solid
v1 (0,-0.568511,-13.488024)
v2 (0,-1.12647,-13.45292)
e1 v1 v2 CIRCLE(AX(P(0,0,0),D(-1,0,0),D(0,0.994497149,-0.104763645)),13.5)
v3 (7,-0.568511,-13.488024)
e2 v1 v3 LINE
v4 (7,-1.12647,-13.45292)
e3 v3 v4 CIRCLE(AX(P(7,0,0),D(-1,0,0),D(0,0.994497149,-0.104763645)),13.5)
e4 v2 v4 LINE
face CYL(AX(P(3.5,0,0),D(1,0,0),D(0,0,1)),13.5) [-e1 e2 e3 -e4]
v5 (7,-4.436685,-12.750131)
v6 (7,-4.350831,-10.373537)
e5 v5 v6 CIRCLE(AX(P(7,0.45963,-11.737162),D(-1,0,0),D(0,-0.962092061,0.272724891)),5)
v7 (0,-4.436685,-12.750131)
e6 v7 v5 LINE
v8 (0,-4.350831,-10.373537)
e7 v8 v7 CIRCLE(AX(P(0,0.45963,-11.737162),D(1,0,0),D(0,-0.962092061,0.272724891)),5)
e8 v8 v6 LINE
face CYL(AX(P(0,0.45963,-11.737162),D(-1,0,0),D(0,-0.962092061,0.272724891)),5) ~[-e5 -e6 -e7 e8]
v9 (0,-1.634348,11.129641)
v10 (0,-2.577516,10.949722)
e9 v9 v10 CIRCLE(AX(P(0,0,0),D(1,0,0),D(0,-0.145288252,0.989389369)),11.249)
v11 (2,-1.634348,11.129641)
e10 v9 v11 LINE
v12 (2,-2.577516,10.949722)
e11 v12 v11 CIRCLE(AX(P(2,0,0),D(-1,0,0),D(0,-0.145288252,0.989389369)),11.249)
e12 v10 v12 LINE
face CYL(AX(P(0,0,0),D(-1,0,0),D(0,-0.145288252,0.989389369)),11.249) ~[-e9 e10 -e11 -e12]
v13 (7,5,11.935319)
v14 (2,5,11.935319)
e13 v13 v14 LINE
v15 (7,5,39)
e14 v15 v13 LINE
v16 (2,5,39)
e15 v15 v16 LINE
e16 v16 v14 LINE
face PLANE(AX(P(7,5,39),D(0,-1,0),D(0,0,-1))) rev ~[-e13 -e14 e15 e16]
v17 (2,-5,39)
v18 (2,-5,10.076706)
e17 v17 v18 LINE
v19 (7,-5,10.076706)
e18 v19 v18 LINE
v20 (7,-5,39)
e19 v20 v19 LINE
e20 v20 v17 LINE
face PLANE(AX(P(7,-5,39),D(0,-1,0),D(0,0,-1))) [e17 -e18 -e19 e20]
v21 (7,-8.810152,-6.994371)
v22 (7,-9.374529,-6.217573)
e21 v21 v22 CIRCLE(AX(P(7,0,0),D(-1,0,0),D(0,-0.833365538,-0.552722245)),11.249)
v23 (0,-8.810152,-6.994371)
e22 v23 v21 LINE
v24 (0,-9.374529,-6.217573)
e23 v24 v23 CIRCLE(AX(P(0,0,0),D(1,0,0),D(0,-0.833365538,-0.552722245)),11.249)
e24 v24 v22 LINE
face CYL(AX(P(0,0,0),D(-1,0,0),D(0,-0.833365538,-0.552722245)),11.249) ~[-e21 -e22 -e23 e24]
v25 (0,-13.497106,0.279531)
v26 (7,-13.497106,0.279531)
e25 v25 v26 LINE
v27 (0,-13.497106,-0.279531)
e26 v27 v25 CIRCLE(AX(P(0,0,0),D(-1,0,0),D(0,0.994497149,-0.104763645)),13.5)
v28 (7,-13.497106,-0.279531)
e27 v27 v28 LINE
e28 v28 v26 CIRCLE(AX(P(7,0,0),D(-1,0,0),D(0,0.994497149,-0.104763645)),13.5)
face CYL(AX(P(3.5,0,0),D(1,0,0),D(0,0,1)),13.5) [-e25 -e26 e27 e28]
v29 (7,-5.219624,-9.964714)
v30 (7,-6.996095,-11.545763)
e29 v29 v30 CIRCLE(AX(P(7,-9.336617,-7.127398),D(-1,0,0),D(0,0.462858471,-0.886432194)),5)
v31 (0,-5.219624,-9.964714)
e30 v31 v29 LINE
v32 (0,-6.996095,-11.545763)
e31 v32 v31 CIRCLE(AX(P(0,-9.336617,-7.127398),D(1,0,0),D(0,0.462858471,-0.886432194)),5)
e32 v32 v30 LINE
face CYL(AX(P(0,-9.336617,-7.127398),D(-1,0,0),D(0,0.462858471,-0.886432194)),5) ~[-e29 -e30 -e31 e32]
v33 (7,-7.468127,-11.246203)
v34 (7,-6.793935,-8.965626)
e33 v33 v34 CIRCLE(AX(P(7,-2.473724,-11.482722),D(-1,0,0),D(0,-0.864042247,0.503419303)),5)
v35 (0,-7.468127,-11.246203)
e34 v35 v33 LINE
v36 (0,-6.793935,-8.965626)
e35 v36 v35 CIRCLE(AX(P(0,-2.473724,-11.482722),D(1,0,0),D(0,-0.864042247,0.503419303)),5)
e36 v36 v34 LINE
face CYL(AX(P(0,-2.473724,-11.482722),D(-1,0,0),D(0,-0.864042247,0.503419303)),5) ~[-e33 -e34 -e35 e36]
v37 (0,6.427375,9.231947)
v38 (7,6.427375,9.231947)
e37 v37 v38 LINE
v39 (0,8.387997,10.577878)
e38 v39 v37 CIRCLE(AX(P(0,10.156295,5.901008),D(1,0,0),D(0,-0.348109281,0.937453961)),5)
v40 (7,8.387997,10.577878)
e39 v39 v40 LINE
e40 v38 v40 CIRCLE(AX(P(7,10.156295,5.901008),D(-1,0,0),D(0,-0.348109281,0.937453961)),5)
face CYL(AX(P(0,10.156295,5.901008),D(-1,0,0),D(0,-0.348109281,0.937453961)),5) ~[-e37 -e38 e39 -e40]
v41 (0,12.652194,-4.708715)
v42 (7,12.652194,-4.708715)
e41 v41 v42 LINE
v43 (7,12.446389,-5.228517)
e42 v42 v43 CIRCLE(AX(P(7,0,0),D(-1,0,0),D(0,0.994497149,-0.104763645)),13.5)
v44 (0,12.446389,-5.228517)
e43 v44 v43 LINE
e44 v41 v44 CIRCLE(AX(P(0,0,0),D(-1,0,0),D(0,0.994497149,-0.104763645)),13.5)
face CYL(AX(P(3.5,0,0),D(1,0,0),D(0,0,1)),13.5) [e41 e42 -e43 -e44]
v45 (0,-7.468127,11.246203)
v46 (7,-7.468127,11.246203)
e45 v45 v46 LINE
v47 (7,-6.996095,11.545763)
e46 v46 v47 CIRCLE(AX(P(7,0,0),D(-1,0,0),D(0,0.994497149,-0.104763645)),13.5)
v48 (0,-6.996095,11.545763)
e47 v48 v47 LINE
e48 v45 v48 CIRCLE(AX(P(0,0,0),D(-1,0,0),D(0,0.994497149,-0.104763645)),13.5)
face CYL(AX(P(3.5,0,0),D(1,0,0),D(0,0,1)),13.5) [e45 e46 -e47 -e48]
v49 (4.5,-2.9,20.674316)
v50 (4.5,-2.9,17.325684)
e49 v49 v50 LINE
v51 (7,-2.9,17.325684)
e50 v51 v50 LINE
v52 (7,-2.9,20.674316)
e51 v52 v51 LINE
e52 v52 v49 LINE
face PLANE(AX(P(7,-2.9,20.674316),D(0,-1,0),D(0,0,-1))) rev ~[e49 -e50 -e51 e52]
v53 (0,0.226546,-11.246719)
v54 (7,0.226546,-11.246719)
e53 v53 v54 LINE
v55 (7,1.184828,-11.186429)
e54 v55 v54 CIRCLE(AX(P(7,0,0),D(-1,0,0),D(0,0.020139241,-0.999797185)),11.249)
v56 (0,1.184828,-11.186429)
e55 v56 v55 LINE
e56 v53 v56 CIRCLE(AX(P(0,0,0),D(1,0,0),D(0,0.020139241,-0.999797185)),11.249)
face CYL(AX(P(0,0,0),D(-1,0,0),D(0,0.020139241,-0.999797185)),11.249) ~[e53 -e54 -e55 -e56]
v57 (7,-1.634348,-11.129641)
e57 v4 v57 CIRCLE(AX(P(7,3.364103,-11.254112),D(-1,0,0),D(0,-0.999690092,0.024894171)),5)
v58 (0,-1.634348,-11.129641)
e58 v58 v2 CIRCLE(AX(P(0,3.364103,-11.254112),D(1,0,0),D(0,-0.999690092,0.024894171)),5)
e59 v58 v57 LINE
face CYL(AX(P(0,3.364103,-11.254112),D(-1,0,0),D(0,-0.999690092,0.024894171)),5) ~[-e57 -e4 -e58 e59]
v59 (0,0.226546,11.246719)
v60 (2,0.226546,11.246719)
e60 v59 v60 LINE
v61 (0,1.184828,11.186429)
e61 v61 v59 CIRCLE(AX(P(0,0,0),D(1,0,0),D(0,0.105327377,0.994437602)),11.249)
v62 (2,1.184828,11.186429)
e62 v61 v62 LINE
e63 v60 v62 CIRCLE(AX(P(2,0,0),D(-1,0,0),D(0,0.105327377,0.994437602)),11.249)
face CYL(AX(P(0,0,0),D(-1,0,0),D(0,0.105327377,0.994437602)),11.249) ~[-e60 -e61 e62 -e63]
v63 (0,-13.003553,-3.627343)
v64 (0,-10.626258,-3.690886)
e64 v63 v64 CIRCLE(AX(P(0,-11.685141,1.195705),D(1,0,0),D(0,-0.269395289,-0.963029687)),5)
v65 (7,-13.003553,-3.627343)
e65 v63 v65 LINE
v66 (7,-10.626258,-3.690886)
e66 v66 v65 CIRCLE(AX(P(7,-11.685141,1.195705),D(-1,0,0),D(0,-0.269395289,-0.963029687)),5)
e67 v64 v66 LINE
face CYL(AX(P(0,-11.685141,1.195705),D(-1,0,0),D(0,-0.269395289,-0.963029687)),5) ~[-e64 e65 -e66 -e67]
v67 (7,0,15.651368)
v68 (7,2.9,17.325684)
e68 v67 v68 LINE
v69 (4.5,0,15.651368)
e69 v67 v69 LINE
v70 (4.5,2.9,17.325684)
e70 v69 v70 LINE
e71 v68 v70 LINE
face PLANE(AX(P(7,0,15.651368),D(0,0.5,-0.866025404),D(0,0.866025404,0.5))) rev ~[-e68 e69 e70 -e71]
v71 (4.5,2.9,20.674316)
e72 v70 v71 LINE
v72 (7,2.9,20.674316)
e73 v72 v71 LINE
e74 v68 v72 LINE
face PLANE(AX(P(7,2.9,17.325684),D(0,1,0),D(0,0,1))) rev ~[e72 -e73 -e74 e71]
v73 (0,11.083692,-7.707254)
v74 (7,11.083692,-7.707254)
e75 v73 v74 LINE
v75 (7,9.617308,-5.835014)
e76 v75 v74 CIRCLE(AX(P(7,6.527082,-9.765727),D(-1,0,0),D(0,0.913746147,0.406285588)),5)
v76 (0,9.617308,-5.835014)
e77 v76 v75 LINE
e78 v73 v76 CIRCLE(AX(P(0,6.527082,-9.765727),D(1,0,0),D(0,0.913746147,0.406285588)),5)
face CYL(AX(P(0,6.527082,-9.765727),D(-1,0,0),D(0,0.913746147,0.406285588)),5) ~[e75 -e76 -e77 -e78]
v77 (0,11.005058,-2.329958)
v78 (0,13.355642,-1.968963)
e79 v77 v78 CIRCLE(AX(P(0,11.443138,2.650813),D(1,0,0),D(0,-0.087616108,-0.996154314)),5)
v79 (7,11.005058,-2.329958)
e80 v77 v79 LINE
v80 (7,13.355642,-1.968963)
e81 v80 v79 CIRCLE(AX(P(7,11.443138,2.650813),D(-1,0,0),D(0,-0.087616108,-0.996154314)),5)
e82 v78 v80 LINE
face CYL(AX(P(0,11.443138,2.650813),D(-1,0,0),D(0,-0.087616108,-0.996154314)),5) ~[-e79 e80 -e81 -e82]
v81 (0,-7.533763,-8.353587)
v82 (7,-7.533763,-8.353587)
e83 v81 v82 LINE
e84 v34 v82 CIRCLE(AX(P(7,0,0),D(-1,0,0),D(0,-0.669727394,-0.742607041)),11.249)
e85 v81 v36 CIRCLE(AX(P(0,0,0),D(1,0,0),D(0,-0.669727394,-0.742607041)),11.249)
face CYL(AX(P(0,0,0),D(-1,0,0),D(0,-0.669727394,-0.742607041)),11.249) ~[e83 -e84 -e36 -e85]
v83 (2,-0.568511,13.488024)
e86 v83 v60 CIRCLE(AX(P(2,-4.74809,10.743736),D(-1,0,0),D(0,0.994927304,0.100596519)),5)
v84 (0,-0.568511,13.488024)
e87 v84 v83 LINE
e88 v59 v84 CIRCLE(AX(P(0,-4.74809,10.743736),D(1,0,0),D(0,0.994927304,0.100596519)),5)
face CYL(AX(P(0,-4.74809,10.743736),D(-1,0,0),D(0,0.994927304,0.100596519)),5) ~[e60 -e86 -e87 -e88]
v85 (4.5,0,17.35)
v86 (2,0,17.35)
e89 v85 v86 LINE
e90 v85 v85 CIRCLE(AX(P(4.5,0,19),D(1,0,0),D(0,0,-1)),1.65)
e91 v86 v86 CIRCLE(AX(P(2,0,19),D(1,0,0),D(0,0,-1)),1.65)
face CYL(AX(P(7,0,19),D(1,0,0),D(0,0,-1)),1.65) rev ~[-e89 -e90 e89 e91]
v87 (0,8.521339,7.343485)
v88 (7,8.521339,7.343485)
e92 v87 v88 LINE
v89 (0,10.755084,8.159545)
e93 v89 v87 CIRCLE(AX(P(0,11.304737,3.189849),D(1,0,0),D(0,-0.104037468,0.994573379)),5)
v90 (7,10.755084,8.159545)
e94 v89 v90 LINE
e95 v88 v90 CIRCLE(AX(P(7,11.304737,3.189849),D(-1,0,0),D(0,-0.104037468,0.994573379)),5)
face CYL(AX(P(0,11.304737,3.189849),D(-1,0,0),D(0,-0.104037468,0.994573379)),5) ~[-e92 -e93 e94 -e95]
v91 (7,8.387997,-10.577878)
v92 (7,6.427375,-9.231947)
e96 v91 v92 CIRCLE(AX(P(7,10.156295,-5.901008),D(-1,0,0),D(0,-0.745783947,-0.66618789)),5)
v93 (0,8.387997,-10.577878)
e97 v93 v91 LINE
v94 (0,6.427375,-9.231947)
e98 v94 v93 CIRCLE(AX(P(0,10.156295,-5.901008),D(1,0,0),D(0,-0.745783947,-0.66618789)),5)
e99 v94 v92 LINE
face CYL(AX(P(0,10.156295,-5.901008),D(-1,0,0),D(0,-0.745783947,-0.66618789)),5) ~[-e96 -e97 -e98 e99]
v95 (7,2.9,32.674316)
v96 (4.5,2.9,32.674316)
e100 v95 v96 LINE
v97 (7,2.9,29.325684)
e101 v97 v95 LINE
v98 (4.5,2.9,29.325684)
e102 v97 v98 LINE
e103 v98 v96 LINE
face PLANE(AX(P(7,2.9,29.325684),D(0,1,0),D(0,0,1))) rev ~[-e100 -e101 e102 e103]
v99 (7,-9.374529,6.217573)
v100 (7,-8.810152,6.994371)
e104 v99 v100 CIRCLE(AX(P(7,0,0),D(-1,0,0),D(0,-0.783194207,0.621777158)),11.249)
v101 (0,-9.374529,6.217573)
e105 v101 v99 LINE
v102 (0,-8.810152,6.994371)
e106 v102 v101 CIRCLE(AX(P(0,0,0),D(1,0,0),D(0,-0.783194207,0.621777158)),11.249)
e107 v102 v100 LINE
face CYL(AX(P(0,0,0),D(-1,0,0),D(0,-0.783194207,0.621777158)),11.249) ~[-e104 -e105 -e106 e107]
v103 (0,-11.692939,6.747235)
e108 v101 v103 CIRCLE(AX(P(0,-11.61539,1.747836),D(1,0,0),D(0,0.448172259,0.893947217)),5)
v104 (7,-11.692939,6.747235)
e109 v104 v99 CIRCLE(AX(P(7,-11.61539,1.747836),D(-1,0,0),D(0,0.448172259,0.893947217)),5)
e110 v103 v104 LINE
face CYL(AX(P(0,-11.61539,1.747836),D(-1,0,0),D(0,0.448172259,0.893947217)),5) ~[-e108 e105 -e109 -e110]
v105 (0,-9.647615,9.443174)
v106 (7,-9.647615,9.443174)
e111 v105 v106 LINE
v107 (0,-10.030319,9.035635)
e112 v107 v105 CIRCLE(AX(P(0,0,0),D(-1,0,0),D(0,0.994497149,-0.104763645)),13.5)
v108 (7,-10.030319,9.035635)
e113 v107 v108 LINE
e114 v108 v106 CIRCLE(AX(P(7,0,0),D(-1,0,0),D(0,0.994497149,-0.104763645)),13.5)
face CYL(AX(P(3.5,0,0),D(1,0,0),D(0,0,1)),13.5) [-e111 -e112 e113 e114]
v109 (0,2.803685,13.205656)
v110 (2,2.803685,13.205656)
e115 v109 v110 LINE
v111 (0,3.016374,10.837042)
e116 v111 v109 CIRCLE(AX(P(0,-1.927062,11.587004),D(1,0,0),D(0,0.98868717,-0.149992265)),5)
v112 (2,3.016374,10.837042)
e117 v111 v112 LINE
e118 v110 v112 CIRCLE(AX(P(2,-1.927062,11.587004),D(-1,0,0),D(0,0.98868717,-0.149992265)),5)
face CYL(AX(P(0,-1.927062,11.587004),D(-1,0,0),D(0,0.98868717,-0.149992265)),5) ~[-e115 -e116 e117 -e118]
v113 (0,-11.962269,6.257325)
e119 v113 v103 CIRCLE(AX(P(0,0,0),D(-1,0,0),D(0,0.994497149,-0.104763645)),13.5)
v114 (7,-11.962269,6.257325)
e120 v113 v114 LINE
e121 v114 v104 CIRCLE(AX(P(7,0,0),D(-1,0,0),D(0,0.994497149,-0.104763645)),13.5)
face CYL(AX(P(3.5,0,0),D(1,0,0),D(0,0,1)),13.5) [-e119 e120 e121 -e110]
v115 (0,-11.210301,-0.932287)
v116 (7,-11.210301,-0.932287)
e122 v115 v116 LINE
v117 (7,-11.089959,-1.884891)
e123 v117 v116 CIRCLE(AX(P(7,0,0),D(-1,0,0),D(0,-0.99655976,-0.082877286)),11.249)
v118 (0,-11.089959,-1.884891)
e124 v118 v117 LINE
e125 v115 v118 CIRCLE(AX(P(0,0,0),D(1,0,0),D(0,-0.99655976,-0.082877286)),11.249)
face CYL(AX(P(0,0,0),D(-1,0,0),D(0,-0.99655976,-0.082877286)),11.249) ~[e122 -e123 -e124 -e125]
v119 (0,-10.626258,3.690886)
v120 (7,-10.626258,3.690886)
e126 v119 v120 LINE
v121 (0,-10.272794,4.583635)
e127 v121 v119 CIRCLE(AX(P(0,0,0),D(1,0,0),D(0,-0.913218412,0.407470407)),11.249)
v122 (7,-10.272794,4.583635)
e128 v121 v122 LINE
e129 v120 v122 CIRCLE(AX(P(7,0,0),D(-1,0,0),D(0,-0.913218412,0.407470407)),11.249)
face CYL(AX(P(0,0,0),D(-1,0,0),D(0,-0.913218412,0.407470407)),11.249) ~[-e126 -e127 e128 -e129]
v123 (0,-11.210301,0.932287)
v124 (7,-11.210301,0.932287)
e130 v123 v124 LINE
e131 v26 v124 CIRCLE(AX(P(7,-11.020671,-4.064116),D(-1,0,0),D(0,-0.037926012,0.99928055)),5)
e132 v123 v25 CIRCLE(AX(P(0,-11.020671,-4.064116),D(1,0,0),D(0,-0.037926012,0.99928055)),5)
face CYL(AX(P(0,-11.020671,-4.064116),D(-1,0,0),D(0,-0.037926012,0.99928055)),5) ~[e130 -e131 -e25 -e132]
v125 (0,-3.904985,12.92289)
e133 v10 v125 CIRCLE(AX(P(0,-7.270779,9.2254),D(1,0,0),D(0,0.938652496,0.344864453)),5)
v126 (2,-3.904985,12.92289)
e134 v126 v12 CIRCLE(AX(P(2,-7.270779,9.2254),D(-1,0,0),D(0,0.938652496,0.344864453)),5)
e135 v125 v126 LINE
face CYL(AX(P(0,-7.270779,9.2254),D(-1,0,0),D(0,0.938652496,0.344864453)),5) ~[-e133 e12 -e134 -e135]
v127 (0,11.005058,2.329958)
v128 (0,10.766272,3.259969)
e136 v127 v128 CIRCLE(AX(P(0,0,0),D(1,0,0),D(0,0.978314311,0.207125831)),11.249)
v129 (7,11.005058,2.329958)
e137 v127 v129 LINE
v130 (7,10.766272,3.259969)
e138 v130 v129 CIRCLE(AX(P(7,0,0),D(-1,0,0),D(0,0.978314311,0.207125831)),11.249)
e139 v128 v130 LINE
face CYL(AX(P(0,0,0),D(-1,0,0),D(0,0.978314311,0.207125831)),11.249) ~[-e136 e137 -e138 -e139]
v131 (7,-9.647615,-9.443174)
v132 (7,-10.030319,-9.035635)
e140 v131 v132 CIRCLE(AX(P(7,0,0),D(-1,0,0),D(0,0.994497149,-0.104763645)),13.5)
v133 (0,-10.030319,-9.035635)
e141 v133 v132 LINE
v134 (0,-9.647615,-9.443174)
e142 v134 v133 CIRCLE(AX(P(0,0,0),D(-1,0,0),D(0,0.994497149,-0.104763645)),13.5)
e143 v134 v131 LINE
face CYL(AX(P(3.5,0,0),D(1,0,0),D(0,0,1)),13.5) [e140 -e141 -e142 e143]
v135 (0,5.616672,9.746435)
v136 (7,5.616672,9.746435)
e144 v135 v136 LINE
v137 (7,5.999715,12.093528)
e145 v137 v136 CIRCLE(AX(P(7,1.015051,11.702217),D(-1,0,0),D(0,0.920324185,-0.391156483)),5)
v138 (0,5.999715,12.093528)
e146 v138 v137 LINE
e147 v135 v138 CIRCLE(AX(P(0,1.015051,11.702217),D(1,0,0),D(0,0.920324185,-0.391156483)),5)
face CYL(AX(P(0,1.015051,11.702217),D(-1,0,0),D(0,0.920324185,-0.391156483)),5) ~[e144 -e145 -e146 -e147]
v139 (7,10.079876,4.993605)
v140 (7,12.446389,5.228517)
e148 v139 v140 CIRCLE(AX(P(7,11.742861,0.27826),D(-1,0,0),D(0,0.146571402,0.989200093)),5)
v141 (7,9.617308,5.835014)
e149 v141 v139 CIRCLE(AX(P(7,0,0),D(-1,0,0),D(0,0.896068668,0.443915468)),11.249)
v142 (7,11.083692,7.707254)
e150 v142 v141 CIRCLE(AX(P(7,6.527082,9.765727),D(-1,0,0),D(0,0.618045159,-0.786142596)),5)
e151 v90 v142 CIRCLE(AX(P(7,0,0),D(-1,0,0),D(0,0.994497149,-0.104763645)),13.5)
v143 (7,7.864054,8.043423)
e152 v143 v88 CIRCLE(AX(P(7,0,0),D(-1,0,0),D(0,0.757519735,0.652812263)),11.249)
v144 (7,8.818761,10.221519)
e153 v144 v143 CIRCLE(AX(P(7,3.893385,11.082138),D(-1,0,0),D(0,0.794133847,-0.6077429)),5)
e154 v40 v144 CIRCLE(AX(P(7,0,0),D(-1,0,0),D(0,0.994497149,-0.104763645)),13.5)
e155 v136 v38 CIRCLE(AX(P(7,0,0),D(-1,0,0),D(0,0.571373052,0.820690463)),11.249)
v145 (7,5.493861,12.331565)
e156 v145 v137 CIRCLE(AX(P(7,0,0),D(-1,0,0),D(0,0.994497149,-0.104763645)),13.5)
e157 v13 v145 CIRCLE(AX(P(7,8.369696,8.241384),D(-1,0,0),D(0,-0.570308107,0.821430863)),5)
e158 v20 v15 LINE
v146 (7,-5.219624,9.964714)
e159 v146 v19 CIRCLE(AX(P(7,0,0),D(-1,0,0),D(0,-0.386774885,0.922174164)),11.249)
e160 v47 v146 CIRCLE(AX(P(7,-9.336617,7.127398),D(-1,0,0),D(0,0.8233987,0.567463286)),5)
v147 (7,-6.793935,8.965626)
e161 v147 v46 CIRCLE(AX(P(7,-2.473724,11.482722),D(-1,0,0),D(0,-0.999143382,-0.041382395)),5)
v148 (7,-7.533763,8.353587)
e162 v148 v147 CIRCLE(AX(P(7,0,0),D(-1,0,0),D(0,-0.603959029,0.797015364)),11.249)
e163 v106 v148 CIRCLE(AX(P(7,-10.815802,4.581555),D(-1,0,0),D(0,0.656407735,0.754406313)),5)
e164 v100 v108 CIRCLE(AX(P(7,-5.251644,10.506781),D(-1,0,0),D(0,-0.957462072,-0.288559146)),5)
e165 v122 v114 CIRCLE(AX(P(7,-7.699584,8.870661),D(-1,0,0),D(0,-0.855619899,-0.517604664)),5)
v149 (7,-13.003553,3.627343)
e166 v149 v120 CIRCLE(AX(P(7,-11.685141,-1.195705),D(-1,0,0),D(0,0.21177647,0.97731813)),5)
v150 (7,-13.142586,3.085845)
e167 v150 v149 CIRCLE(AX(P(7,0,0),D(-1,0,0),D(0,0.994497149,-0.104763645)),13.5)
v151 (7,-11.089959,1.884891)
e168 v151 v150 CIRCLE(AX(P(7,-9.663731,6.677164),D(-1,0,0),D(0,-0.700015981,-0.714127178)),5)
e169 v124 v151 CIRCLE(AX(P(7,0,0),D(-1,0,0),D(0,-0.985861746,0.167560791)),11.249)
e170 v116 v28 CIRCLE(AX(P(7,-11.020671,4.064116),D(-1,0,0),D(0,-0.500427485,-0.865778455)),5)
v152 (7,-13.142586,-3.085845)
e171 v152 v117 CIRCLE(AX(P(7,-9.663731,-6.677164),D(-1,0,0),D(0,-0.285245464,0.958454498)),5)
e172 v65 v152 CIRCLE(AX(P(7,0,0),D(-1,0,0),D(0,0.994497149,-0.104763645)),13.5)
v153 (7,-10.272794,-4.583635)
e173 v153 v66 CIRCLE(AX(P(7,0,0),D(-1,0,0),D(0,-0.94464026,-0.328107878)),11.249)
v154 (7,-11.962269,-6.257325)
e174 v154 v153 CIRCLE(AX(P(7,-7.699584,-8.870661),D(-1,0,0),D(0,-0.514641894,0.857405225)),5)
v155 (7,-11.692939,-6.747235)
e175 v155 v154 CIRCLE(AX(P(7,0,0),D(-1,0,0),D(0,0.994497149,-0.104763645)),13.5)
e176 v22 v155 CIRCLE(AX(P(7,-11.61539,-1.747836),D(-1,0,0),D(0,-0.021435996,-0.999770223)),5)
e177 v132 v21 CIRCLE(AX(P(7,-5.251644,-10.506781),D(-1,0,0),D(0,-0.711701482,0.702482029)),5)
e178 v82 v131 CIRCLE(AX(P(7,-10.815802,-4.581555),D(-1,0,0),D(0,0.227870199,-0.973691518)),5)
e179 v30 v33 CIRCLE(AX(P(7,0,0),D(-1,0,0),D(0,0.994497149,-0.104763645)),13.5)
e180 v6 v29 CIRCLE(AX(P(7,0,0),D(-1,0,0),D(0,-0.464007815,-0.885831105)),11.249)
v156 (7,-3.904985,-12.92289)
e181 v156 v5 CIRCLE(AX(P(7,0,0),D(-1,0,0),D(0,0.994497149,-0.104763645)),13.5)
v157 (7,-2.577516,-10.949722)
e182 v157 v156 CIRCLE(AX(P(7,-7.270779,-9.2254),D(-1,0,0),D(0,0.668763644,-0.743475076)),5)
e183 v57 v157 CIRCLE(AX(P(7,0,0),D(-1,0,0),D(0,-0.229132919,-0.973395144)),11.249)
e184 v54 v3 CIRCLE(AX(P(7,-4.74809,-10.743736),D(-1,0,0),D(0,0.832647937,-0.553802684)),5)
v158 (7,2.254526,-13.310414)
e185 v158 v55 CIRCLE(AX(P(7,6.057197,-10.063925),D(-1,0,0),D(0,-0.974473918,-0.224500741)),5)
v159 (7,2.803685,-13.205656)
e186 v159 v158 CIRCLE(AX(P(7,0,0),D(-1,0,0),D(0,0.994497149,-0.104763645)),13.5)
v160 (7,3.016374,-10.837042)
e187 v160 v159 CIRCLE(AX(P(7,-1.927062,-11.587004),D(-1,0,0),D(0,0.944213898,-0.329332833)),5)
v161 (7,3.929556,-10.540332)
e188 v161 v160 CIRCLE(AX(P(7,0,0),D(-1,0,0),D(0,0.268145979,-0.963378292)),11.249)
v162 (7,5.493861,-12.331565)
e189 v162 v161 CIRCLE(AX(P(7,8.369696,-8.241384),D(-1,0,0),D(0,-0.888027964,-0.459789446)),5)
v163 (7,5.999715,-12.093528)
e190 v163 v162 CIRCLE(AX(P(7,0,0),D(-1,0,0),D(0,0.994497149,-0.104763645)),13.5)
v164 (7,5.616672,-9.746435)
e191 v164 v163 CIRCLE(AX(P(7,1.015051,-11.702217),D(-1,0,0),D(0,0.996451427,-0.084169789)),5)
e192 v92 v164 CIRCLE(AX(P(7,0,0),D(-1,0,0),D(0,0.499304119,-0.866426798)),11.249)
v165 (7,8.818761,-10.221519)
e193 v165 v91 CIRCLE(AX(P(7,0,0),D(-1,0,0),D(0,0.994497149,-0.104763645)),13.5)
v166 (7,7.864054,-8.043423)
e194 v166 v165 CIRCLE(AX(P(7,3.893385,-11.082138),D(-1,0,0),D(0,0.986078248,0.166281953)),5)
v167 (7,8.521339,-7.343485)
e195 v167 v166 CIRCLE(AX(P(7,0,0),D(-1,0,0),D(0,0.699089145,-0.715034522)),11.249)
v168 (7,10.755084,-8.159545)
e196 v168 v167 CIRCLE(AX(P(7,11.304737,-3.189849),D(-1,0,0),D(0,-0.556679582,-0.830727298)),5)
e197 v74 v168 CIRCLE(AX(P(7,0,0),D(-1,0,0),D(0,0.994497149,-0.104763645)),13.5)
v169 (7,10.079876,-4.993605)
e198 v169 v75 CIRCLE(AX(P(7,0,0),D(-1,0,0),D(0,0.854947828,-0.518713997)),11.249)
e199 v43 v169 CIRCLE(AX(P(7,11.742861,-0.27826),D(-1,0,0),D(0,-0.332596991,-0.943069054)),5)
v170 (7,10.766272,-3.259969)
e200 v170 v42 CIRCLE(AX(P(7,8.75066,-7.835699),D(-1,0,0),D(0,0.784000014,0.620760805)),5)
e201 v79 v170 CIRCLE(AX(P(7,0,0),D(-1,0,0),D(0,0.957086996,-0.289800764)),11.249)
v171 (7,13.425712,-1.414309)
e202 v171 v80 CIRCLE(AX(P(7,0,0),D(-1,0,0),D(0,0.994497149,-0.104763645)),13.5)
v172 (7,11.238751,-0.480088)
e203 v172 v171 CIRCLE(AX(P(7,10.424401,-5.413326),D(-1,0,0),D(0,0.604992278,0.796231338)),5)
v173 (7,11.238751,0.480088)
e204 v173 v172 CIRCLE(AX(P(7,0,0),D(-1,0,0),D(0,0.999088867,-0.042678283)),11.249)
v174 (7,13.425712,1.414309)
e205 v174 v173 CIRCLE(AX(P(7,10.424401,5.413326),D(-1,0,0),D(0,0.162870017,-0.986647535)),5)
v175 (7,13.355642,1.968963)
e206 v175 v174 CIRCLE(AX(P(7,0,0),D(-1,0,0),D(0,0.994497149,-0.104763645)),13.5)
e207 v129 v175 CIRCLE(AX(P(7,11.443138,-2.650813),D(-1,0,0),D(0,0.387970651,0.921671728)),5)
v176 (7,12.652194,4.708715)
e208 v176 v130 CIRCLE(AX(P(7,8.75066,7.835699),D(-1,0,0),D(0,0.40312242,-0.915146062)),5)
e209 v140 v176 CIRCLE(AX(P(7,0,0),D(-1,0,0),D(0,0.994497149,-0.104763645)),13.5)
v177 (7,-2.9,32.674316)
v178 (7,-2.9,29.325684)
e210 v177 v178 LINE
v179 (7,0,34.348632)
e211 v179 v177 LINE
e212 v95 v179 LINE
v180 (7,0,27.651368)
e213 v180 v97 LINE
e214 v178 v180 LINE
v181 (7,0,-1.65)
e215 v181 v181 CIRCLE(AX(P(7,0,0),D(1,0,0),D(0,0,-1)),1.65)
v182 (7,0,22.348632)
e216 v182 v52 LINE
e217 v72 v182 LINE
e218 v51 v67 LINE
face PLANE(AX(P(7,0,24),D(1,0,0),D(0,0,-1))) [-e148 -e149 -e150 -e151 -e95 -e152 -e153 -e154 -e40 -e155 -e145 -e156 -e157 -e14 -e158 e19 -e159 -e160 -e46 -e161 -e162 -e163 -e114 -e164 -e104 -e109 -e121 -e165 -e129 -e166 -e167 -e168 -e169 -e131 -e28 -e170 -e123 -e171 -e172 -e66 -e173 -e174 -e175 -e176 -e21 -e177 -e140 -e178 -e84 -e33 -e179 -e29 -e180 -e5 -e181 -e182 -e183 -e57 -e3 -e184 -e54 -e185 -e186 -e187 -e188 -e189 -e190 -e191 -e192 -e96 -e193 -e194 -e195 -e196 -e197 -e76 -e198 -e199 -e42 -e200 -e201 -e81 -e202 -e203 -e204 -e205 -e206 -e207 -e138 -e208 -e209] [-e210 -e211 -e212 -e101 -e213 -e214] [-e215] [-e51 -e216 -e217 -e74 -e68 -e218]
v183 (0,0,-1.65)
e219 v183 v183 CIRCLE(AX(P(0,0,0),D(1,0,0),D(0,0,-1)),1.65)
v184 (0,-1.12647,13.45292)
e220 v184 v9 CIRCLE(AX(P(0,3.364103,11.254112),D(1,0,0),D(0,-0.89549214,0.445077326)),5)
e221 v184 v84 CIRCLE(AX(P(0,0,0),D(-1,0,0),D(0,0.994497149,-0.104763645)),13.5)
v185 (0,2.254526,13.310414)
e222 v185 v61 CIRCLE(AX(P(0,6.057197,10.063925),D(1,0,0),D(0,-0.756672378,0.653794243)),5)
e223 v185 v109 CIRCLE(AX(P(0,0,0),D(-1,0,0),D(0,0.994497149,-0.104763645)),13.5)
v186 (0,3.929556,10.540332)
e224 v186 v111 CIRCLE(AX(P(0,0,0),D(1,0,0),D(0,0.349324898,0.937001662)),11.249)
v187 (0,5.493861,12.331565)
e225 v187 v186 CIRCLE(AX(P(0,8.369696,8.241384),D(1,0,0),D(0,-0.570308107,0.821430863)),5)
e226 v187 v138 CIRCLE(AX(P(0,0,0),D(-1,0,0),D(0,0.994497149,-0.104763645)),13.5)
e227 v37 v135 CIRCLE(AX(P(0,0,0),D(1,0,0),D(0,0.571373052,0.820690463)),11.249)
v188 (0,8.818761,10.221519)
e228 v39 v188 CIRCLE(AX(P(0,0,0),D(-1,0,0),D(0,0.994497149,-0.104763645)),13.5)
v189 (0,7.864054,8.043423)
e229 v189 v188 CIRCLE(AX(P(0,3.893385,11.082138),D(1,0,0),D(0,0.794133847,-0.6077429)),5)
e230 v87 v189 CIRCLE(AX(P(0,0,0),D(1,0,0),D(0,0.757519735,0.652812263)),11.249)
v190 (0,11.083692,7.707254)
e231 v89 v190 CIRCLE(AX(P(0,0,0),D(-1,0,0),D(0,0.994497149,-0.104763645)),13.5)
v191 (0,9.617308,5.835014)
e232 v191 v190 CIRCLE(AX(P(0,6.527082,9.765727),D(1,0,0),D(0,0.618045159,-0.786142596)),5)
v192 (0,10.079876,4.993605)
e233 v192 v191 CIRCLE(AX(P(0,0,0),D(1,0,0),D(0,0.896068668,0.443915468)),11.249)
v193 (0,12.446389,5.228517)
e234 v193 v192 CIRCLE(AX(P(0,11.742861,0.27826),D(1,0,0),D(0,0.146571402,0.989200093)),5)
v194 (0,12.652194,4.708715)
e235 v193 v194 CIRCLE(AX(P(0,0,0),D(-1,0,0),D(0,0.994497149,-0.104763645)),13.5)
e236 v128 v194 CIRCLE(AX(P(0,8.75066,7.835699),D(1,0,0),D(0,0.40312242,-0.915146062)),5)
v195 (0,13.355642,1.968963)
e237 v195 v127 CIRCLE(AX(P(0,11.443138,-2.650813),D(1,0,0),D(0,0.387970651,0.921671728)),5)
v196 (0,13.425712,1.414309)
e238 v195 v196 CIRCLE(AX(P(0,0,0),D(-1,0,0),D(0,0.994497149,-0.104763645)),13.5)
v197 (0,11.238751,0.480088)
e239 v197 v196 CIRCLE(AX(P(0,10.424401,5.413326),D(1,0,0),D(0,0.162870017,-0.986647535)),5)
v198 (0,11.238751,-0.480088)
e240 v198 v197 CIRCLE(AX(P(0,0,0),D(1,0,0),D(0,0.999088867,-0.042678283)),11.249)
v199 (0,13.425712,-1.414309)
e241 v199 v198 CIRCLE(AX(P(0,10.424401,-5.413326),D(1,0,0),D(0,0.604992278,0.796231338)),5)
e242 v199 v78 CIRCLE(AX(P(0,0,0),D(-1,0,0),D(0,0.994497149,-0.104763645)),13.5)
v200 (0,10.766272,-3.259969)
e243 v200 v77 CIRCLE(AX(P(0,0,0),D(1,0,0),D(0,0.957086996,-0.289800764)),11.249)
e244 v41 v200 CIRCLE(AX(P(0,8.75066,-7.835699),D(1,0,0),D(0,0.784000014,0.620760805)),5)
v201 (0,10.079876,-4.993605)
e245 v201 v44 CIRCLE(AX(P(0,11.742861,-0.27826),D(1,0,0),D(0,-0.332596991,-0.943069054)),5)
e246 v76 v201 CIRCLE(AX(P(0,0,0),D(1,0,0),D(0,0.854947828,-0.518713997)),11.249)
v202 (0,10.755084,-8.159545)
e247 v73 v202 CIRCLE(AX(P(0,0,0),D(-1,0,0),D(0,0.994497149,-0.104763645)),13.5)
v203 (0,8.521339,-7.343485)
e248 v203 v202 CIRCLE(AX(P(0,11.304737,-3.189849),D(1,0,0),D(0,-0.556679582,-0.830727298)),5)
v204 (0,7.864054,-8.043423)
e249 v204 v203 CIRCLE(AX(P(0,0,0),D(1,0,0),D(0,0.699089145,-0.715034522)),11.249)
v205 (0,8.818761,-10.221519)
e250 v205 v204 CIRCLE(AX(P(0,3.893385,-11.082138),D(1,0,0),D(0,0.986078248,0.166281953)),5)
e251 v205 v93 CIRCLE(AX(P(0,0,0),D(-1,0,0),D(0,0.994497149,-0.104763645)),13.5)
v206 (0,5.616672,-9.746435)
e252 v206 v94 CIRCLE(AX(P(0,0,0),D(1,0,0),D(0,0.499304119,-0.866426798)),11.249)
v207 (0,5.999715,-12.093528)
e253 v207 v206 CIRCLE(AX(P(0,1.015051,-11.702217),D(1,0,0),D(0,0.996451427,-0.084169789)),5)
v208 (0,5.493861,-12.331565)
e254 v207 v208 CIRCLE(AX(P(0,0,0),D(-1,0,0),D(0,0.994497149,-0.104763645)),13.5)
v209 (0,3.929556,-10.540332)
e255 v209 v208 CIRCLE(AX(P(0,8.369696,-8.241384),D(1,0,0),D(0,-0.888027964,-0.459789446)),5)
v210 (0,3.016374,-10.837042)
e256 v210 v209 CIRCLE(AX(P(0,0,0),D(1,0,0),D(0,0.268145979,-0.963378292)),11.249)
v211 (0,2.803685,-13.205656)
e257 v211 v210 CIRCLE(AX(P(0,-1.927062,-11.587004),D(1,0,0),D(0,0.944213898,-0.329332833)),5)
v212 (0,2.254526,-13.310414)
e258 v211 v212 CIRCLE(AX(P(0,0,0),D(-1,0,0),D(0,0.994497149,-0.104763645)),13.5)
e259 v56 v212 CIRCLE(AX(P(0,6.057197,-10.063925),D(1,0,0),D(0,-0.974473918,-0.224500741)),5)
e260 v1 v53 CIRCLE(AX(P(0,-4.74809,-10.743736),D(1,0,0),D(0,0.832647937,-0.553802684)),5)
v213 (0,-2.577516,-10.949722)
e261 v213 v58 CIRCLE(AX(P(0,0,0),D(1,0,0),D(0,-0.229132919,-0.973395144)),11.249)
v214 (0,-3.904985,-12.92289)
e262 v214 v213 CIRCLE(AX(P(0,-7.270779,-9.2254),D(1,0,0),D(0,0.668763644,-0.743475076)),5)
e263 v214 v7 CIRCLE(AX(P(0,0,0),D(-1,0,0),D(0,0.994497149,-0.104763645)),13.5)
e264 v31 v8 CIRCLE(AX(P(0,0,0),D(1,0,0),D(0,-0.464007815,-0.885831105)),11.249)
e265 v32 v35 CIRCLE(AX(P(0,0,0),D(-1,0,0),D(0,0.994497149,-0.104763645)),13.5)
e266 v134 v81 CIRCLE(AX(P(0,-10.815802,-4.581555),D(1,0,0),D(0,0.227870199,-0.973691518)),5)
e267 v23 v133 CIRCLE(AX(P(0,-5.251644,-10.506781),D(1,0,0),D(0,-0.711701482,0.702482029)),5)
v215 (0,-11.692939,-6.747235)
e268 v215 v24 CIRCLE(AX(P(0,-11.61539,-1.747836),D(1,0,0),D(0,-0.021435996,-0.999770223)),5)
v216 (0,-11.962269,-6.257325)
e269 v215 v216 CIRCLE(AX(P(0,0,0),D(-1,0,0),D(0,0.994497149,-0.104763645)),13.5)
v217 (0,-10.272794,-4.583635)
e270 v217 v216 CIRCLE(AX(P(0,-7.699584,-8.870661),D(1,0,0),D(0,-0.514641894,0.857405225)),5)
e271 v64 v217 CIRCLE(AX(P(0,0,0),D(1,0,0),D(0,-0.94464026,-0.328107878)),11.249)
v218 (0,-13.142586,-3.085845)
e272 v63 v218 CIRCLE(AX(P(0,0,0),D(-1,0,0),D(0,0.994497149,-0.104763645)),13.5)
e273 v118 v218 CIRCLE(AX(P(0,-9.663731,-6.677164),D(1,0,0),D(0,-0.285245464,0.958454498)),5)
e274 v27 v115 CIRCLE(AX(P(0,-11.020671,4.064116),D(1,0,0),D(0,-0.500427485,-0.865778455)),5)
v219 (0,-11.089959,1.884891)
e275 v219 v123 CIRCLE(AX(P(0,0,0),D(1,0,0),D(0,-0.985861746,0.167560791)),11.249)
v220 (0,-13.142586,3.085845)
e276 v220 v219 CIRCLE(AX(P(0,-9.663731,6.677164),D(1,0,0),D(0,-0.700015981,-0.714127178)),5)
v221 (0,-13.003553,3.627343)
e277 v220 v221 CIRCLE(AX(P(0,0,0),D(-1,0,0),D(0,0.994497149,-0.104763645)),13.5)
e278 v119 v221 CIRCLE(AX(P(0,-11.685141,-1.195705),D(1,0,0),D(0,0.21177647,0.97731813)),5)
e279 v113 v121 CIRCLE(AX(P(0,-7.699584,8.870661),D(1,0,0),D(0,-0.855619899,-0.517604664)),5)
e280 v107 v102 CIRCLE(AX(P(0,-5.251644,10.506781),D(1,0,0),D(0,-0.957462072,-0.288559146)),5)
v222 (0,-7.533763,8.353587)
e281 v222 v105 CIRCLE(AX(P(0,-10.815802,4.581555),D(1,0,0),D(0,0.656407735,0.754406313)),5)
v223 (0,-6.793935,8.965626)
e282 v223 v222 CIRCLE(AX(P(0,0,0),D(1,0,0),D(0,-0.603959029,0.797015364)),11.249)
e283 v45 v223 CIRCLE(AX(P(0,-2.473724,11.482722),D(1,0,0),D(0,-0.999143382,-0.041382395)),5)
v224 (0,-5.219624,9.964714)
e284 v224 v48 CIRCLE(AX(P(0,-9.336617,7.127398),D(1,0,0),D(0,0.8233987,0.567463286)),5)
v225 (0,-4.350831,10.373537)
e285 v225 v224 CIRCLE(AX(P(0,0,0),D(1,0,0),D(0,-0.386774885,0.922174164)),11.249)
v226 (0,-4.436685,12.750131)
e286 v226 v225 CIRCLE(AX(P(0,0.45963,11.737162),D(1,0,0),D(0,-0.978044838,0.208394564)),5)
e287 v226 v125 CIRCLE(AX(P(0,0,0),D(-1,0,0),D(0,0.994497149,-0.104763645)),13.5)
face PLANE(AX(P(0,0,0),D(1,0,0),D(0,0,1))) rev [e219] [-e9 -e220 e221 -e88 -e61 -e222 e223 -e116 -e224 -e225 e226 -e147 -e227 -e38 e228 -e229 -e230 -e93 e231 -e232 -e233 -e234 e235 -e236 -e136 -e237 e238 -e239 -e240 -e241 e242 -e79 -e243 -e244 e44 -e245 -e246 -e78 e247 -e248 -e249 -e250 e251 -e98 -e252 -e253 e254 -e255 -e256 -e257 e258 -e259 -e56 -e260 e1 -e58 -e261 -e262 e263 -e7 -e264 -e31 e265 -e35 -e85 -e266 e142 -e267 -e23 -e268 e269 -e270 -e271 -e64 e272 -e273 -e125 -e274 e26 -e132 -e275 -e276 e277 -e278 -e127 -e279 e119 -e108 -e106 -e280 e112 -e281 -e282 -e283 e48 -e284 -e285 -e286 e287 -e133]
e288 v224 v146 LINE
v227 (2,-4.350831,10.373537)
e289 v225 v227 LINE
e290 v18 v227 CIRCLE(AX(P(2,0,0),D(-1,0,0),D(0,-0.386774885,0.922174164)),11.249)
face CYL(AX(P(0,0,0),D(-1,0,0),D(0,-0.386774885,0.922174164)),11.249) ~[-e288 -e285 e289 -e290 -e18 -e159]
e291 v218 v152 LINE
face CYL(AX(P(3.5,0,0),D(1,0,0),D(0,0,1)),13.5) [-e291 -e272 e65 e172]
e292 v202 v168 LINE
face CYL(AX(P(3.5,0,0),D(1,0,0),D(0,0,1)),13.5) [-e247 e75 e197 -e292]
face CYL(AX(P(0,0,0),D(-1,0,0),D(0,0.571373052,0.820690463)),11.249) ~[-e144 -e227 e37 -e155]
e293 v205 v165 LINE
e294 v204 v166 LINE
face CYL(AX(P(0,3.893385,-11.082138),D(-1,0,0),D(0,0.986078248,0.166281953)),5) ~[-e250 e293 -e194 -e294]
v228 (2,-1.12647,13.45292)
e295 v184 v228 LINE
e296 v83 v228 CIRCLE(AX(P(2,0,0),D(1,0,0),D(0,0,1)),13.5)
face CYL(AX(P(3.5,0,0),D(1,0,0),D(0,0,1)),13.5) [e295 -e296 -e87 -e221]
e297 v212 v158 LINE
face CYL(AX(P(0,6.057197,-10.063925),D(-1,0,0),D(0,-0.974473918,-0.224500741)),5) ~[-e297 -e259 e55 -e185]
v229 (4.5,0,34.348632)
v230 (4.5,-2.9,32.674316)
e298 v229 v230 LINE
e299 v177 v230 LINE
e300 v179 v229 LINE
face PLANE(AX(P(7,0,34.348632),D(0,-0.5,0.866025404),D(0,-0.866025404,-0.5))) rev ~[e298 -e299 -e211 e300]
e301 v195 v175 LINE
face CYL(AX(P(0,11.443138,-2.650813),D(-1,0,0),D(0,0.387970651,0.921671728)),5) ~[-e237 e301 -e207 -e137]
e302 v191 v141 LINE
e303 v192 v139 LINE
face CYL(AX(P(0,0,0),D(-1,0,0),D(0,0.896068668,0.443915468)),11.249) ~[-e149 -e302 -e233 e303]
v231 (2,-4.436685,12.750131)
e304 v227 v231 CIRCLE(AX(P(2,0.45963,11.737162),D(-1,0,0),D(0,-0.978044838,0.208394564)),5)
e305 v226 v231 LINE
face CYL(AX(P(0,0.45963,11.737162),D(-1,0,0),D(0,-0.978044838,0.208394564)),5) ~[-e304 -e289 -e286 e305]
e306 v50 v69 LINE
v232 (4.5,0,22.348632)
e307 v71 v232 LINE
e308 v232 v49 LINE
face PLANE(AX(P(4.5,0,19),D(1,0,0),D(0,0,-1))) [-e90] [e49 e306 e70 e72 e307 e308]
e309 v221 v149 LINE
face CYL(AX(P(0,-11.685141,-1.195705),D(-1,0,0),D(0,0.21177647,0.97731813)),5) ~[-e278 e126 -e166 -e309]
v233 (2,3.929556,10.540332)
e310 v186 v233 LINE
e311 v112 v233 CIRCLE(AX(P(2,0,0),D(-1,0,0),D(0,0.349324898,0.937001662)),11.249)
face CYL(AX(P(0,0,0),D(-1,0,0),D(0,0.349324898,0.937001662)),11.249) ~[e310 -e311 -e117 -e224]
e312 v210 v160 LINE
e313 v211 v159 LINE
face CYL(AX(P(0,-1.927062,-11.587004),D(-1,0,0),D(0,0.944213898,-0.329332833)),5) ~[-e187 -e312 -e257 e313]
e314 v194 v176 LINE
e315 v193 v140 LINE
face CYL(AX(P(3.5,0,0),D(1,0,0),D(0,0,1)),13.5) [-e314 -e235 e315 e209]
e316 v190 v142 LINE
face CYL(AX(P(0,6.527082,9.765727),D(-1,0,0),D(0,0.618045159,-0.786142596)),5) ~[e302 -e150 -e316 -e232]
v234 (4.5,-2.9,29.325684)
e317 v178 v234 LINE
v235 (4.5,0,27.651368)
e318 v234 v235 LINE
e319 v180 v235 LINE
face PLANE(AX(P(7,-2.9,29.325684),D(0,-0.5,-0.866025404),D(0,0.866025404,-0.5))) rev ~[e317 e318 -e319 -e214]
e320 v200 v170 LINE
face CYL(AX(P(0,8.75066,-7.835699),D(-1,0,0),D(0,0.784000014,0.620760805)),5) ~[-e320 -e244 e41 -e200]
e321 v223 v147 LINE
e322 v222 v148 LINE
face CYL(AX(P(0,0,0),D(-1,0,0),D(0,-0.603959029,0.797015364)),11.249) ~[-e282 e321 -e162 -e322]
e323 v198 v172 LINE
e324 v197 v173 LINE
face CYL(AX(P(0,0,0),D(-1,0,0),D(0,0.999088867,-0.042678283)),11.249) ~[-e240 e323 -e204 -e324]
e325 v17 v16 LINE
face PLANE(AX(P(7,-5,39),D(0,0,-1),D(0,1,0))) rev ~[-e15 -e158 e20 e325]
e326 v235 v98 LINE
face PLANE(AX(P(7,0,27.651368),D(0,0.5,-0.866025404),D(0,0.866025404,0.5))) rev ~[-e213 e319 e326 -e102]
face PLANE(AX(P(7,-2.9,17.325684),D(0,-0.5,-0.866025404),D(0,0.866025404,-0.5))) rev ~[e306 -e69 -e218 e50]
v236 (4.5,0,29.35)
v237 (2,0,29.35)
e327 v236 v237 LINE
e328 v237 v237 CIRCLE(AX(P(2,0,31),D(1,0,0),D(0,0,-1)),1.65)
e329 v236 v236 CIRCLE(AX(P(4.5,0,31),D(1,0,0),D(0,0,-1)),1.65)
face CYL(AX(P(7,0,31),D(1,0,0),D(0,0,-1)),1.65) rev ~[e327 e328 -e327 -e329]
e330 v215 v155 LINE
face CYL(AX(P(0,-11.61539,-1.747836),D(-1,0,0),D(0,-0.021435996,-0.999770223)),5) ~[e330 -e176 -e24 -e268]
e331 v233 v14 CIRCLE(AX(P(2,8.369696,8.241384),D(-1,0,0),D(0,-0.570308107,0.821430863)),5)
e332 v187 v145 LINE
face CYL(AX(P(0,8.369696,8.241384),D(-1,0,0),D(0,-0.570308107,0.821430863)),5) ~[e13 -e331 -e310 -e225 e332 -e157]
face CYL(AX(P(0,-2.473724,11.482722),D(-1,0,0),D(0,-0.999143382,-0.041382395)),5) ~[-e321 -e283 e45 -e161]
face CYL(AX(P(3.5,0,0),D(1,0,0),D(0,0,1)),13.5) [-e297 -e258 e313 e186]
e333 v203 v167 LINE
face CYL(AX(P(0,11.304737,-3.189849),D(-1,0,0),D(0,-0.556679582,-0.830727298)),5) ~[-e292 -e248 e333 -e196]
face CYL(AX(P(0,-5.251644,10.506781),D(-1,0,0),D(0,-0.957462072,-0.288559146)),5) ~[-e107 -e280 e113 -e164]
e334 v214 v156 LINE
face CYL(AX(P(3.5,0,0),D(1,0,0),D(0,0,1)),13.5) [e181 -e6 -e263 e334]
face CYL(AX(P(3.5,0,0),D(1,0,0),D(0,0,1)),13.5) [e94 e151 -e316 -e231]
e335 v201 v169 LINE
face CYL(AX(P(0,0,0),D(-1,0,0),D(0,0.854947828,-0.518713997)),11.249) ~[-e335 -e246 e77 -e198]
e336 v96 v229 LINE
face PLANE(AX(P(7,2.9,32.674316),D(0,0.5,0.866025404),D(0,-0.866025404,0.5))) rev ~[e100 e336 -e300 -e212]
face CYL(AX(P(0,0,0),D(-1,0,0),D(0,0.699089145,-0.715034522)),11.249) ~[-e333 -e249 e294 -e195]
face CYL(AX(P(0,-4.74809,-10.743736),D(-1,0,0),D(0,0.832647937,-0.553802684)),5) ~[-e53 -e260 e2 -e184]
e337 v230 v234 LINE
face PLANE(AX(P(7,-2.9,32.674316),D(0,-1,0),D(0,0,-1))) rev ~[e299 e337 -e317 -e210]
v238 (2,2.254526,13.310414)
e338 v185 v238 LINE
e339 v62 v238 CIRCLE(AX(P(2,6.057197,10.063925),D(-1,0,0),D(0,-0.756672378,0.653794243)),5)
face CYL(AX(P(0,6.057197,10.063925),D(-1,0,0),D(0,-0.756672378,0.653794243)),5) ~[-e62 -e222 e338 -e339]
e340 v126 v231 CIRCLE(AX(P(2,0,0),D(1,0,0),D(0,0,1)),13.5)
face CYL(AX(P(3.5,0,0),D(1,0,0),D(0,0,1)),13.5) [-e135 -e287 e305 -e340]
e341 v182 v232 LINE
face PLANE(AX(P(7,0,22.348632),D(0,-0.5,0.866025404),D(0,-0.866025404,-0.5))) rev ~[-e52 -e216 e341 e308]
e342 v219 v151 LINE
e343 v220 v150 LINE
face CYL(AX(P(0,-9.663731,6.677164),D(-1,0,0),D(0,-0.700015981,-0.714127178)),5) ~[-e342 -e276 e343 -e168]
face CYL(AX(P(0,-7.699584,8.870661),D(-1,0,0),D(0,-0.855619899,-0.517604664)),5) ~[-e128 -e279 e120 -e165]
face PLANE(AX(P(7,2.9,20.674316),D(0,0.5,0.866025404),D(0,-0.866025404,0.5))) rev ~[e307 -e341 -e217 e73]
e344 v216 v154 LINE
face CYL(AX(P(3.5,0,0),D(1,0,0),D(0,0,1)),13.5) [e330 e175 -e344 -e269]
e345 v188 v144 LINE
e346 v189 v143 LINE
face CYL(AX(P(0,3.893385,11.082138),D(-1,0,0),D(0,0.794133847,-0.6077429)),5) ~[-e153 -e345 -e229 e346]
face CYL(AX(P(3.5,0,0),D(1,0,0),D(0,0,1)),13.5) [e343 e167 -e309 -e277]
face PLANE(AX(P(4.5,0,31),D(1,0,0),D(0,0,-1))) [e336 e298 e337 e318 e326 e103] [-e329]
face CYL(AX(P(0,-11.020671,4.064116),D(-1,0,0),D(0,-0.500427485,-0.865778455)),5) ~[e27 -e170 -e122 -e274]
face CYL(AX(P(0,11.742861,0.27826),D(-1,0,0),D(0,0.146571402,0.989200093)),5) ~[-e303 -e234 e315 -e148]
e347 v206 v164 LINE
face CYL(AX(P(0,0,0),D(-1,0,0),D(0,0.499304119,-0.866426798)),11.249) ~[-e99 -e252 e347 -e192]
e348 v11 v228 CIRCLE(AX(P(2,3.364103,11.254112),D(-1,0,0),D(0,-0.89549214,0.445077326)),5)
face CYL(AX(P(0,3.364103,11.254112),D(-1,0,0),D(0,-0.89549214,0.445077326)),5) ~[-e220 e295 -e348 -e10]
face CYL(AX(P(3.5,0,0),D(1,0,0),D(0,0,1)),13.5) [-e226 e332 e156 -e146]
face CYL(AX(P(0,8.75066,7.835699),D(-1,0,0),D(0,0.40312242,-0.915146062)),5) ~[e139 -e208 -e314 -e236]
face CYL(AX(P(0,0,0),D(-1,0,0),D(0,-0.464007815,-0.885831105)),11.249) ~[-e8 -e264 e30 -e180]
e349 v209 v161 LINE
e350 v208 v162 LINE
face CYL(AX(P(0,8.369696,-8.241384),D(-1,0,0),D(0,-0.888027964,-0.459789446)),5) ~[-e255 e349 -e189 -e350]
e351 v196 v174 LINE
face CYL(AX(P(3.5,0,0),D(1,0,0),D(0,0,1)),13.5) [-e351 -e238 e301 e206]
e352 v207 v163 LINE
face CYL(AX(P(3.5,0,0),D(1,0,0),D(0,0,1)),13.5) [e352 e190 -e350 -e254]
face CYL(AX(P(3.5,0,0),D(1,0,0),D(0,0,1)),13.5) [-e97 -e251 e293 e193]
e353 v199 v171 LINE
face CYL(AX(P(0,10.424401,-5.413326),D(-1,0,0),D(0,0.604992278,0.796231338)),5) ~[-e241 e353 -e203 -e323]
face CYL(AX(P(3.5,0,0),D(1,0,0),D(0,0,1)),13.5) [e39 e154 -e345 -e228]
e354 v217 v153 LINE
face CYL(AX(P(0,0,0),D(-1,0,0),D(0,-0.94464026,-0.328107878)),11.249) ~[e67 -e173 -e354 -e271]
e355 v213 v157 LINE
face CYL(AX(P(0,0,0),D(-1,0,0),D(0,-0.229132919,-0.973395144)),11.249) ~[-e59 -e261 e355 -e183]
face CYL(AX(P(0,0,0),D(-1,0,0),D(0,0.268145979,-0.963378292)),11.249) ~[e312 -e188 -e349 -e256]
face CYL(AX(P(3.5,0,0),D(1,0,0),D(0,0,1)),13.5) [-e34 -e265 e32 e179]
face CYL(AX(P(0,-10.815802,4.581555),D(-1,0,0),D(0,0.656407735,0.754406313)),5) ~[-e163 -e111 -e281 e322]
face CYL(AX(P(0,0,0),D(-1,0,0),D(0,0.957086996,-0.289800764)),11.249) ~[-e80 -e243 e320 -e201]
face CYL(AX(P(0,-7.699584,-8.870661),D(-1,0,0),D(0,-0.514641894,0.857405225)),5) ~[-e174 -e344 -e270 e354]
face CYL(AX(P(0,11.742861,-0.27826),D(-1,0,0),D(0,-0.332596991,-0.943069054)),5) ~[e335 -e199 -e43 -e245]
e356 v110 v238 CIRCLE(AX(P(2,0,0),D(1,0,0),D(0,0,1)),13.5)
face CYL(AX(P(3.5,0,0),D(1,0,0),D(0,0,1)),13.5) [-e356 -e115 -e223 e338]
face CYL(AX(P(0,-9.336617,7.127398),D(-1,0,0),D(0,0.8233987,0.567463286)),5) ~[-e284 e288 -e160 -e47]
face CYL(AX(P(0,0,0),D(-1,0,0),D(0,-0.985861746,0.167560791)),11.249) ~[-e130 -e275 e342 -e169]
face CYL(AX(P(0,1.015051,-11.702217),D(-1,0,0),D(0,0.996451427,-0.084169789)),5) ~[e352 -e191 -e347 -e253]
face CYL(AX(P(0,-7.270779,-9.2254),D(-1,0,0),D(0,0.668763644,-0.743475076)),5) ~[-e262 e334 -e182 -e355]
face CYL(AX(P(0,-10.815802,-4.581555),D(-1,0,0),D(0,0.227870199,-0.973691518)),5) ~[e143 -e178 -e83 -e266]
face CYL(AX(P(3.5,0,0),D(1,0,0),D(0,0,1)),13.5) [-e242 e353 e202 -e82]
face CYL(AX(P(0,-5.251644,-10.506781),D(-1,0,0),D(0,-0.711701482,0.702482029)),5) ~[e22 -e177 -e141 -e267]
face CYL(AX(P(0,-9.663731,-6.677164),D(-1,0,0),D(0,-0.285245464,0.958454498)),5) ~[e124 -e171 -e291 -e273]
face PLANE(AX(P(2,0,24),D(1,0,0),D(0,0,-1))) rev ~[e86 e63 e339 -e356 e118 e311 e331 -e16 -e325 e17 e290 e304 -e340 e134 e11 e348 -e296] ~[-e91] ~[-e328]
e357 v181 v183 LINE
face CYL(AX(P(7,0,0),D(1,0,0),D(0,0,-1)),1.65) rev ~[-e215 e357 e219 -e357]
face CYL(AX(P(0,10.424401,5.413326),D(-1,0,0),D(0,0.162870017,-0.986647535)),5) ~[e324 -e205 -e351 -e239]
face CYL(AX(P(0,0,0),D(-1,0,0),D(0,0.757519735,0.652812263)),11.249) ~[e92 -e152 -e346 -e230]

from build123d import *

# Parameters (mm, degrees)
BASPROSKE_W         = 7
BASPROSKE_H         = 13.5
TOOTHCUT_DEPTH      = 21.334699408
TEETHCUTS_COUNT     = 25
TEETHCUTS_ANGLE     = 345.6
BORSKE_R            = 0.4
BORE_DEPTH          = 50.0000508
SKETCH_1_R          = 1.65
CUT_EXTRUDE_1_DEPTH = 10
SKETCH_2_W          = 30
SKETCH_2_H          = 10
SKETCH_2_R          = 1.65
EXTRUDE_2_DEPTH     = 5
CUT_EXTRUDE_2_DEPTH = 2.5


with BuildPart() as part:
    # BasProSke → Base-Revolve (revolve)
    with BuildSketch(Plane(origin=(0, 0, 0), x_dir=(1, 0, 0), z_dir=(0, 1, 0)), mode=Mode.PRIVATE) as base_revolve_sk:
        with Locations((3.5, 6.75)):
            Rectangle(BASPROSKE_W, BASPROSKE_H)
    revolve(base_revolve_sk.sketch.rotate(Axis((-10, 0, 0), (1, 0, 0)), 180), axis=Axis((-10, 0, 0), (1, 0, 0)))

    # TooCutSke → ToothCut (cut, through all)
    with BuildSketch(Plane(origin=(0, 0, 0), x_dir=(0, 0, -1), z_dir=(1, 0, 0))):
        with BuildLine():
            ThreePointArc((0.480087995, 11.238750665), (0, 11.249), (-0.480087995, 11.238750665))
            ThreePointArc((-0.480087995, 11.238750665), (-0.821124963, 12.40220054), (-1.432168974, 13.449361962))
            ThreePointArc((-1.432168974, 13.449361962), (0, 13.5254), (1.432168974, 13.449361962))
            ThreePointArc((1.432168974, 13.449361962), (0.821124963, 12.40220054), (0.480087995, 11.238750665))
        make_face()
    toothcut = extrude(amount=TOOTHCUT_DEPTH, mode=Mode.SUBTRACT)

    # TeethCuts: ToothCut ×25 about axis
    teethcuts_axis = Axis((-10, 0, 0), (1, 0, 0))
    for i in range(1, TEETHCUTS_COUNT):
        add(toothcut.rotate(teethcuts_axis, i * TEETHCUTS_ANGLE / (TEETHCUTS_COUNT - 1)), mode=Mode.SUBTRACT)

    # BorSke → Bore (cut, symmetric)
    with BuildSketch(Plane(origin=(0, 0, 0), x_dir=(0, 0, -1), z_dir=(1, 0, 0))):
        with Locations(Location((0, 0, 0), (0, 0, 180))):
            Circle(BORSKE_R)
    extrude(amount=BORE_DEPTH, both=True, mode=Mode.SUBTRACT)

    # 草图1 → 切除-拉伸1 (cut)
    with BuildSketch(Plane(origin=(7, 0, 0), x_dir=(0, 0, -1), z_dir=(1, 0, 0))):
        Circle(SKETCH_1_R)
    extrude(amount=-CUT_EXTRUDE_1_DEPTH, mode=Mode.SUBTRACT)

    # 草图2 → 凸台-拉伸2 (add)
    with BuildSketch(Plane(origin=(7, 0, 0), x_dir=(0, 0, -1), z_dir=(1, 0, 0))):
        with Locations((-24, 0)):
            Rectangle(SKETCH_2_W, SKETCH_2_H)
        with Locations((-31, 0)):
            Circle(SKETCH_2_R, mode=Mode.SUBTRACT)
        with Locations((-19, 0)):
            Circle(SKETCH_2_R, mode=Mode.SUBTRACT)
    extrude(amount=-EXTRUDE_2_DEPTH)

    # 草图3 → 切除-拉伸2 (cut)
    with BuildSketch(Plane(origin=(7, 0, 0), x_dir=(0, 0, -1), z_dir=(1, 0, 0))):
        Polygon((-27.651368439, 0), (-29.325684219, 2.9), (-32.674315781, 2.9), (-34.348631561, 0), (-32.674315781, -2.9), (-29.325684219, -2.9), align=None)
        Polygon((-15.651368439, 0), (-17.325684219, 2.9), (-20.674315781, 2.9), (-22.348631561, 0), (-20.674315781, -2.9), (-17.325684219, -2.9), align=None)
    extrude(amount=-CUT_EXTRUDE_2_DEPTH, mode=Mode.SUBTRACT)


solid = part.part
